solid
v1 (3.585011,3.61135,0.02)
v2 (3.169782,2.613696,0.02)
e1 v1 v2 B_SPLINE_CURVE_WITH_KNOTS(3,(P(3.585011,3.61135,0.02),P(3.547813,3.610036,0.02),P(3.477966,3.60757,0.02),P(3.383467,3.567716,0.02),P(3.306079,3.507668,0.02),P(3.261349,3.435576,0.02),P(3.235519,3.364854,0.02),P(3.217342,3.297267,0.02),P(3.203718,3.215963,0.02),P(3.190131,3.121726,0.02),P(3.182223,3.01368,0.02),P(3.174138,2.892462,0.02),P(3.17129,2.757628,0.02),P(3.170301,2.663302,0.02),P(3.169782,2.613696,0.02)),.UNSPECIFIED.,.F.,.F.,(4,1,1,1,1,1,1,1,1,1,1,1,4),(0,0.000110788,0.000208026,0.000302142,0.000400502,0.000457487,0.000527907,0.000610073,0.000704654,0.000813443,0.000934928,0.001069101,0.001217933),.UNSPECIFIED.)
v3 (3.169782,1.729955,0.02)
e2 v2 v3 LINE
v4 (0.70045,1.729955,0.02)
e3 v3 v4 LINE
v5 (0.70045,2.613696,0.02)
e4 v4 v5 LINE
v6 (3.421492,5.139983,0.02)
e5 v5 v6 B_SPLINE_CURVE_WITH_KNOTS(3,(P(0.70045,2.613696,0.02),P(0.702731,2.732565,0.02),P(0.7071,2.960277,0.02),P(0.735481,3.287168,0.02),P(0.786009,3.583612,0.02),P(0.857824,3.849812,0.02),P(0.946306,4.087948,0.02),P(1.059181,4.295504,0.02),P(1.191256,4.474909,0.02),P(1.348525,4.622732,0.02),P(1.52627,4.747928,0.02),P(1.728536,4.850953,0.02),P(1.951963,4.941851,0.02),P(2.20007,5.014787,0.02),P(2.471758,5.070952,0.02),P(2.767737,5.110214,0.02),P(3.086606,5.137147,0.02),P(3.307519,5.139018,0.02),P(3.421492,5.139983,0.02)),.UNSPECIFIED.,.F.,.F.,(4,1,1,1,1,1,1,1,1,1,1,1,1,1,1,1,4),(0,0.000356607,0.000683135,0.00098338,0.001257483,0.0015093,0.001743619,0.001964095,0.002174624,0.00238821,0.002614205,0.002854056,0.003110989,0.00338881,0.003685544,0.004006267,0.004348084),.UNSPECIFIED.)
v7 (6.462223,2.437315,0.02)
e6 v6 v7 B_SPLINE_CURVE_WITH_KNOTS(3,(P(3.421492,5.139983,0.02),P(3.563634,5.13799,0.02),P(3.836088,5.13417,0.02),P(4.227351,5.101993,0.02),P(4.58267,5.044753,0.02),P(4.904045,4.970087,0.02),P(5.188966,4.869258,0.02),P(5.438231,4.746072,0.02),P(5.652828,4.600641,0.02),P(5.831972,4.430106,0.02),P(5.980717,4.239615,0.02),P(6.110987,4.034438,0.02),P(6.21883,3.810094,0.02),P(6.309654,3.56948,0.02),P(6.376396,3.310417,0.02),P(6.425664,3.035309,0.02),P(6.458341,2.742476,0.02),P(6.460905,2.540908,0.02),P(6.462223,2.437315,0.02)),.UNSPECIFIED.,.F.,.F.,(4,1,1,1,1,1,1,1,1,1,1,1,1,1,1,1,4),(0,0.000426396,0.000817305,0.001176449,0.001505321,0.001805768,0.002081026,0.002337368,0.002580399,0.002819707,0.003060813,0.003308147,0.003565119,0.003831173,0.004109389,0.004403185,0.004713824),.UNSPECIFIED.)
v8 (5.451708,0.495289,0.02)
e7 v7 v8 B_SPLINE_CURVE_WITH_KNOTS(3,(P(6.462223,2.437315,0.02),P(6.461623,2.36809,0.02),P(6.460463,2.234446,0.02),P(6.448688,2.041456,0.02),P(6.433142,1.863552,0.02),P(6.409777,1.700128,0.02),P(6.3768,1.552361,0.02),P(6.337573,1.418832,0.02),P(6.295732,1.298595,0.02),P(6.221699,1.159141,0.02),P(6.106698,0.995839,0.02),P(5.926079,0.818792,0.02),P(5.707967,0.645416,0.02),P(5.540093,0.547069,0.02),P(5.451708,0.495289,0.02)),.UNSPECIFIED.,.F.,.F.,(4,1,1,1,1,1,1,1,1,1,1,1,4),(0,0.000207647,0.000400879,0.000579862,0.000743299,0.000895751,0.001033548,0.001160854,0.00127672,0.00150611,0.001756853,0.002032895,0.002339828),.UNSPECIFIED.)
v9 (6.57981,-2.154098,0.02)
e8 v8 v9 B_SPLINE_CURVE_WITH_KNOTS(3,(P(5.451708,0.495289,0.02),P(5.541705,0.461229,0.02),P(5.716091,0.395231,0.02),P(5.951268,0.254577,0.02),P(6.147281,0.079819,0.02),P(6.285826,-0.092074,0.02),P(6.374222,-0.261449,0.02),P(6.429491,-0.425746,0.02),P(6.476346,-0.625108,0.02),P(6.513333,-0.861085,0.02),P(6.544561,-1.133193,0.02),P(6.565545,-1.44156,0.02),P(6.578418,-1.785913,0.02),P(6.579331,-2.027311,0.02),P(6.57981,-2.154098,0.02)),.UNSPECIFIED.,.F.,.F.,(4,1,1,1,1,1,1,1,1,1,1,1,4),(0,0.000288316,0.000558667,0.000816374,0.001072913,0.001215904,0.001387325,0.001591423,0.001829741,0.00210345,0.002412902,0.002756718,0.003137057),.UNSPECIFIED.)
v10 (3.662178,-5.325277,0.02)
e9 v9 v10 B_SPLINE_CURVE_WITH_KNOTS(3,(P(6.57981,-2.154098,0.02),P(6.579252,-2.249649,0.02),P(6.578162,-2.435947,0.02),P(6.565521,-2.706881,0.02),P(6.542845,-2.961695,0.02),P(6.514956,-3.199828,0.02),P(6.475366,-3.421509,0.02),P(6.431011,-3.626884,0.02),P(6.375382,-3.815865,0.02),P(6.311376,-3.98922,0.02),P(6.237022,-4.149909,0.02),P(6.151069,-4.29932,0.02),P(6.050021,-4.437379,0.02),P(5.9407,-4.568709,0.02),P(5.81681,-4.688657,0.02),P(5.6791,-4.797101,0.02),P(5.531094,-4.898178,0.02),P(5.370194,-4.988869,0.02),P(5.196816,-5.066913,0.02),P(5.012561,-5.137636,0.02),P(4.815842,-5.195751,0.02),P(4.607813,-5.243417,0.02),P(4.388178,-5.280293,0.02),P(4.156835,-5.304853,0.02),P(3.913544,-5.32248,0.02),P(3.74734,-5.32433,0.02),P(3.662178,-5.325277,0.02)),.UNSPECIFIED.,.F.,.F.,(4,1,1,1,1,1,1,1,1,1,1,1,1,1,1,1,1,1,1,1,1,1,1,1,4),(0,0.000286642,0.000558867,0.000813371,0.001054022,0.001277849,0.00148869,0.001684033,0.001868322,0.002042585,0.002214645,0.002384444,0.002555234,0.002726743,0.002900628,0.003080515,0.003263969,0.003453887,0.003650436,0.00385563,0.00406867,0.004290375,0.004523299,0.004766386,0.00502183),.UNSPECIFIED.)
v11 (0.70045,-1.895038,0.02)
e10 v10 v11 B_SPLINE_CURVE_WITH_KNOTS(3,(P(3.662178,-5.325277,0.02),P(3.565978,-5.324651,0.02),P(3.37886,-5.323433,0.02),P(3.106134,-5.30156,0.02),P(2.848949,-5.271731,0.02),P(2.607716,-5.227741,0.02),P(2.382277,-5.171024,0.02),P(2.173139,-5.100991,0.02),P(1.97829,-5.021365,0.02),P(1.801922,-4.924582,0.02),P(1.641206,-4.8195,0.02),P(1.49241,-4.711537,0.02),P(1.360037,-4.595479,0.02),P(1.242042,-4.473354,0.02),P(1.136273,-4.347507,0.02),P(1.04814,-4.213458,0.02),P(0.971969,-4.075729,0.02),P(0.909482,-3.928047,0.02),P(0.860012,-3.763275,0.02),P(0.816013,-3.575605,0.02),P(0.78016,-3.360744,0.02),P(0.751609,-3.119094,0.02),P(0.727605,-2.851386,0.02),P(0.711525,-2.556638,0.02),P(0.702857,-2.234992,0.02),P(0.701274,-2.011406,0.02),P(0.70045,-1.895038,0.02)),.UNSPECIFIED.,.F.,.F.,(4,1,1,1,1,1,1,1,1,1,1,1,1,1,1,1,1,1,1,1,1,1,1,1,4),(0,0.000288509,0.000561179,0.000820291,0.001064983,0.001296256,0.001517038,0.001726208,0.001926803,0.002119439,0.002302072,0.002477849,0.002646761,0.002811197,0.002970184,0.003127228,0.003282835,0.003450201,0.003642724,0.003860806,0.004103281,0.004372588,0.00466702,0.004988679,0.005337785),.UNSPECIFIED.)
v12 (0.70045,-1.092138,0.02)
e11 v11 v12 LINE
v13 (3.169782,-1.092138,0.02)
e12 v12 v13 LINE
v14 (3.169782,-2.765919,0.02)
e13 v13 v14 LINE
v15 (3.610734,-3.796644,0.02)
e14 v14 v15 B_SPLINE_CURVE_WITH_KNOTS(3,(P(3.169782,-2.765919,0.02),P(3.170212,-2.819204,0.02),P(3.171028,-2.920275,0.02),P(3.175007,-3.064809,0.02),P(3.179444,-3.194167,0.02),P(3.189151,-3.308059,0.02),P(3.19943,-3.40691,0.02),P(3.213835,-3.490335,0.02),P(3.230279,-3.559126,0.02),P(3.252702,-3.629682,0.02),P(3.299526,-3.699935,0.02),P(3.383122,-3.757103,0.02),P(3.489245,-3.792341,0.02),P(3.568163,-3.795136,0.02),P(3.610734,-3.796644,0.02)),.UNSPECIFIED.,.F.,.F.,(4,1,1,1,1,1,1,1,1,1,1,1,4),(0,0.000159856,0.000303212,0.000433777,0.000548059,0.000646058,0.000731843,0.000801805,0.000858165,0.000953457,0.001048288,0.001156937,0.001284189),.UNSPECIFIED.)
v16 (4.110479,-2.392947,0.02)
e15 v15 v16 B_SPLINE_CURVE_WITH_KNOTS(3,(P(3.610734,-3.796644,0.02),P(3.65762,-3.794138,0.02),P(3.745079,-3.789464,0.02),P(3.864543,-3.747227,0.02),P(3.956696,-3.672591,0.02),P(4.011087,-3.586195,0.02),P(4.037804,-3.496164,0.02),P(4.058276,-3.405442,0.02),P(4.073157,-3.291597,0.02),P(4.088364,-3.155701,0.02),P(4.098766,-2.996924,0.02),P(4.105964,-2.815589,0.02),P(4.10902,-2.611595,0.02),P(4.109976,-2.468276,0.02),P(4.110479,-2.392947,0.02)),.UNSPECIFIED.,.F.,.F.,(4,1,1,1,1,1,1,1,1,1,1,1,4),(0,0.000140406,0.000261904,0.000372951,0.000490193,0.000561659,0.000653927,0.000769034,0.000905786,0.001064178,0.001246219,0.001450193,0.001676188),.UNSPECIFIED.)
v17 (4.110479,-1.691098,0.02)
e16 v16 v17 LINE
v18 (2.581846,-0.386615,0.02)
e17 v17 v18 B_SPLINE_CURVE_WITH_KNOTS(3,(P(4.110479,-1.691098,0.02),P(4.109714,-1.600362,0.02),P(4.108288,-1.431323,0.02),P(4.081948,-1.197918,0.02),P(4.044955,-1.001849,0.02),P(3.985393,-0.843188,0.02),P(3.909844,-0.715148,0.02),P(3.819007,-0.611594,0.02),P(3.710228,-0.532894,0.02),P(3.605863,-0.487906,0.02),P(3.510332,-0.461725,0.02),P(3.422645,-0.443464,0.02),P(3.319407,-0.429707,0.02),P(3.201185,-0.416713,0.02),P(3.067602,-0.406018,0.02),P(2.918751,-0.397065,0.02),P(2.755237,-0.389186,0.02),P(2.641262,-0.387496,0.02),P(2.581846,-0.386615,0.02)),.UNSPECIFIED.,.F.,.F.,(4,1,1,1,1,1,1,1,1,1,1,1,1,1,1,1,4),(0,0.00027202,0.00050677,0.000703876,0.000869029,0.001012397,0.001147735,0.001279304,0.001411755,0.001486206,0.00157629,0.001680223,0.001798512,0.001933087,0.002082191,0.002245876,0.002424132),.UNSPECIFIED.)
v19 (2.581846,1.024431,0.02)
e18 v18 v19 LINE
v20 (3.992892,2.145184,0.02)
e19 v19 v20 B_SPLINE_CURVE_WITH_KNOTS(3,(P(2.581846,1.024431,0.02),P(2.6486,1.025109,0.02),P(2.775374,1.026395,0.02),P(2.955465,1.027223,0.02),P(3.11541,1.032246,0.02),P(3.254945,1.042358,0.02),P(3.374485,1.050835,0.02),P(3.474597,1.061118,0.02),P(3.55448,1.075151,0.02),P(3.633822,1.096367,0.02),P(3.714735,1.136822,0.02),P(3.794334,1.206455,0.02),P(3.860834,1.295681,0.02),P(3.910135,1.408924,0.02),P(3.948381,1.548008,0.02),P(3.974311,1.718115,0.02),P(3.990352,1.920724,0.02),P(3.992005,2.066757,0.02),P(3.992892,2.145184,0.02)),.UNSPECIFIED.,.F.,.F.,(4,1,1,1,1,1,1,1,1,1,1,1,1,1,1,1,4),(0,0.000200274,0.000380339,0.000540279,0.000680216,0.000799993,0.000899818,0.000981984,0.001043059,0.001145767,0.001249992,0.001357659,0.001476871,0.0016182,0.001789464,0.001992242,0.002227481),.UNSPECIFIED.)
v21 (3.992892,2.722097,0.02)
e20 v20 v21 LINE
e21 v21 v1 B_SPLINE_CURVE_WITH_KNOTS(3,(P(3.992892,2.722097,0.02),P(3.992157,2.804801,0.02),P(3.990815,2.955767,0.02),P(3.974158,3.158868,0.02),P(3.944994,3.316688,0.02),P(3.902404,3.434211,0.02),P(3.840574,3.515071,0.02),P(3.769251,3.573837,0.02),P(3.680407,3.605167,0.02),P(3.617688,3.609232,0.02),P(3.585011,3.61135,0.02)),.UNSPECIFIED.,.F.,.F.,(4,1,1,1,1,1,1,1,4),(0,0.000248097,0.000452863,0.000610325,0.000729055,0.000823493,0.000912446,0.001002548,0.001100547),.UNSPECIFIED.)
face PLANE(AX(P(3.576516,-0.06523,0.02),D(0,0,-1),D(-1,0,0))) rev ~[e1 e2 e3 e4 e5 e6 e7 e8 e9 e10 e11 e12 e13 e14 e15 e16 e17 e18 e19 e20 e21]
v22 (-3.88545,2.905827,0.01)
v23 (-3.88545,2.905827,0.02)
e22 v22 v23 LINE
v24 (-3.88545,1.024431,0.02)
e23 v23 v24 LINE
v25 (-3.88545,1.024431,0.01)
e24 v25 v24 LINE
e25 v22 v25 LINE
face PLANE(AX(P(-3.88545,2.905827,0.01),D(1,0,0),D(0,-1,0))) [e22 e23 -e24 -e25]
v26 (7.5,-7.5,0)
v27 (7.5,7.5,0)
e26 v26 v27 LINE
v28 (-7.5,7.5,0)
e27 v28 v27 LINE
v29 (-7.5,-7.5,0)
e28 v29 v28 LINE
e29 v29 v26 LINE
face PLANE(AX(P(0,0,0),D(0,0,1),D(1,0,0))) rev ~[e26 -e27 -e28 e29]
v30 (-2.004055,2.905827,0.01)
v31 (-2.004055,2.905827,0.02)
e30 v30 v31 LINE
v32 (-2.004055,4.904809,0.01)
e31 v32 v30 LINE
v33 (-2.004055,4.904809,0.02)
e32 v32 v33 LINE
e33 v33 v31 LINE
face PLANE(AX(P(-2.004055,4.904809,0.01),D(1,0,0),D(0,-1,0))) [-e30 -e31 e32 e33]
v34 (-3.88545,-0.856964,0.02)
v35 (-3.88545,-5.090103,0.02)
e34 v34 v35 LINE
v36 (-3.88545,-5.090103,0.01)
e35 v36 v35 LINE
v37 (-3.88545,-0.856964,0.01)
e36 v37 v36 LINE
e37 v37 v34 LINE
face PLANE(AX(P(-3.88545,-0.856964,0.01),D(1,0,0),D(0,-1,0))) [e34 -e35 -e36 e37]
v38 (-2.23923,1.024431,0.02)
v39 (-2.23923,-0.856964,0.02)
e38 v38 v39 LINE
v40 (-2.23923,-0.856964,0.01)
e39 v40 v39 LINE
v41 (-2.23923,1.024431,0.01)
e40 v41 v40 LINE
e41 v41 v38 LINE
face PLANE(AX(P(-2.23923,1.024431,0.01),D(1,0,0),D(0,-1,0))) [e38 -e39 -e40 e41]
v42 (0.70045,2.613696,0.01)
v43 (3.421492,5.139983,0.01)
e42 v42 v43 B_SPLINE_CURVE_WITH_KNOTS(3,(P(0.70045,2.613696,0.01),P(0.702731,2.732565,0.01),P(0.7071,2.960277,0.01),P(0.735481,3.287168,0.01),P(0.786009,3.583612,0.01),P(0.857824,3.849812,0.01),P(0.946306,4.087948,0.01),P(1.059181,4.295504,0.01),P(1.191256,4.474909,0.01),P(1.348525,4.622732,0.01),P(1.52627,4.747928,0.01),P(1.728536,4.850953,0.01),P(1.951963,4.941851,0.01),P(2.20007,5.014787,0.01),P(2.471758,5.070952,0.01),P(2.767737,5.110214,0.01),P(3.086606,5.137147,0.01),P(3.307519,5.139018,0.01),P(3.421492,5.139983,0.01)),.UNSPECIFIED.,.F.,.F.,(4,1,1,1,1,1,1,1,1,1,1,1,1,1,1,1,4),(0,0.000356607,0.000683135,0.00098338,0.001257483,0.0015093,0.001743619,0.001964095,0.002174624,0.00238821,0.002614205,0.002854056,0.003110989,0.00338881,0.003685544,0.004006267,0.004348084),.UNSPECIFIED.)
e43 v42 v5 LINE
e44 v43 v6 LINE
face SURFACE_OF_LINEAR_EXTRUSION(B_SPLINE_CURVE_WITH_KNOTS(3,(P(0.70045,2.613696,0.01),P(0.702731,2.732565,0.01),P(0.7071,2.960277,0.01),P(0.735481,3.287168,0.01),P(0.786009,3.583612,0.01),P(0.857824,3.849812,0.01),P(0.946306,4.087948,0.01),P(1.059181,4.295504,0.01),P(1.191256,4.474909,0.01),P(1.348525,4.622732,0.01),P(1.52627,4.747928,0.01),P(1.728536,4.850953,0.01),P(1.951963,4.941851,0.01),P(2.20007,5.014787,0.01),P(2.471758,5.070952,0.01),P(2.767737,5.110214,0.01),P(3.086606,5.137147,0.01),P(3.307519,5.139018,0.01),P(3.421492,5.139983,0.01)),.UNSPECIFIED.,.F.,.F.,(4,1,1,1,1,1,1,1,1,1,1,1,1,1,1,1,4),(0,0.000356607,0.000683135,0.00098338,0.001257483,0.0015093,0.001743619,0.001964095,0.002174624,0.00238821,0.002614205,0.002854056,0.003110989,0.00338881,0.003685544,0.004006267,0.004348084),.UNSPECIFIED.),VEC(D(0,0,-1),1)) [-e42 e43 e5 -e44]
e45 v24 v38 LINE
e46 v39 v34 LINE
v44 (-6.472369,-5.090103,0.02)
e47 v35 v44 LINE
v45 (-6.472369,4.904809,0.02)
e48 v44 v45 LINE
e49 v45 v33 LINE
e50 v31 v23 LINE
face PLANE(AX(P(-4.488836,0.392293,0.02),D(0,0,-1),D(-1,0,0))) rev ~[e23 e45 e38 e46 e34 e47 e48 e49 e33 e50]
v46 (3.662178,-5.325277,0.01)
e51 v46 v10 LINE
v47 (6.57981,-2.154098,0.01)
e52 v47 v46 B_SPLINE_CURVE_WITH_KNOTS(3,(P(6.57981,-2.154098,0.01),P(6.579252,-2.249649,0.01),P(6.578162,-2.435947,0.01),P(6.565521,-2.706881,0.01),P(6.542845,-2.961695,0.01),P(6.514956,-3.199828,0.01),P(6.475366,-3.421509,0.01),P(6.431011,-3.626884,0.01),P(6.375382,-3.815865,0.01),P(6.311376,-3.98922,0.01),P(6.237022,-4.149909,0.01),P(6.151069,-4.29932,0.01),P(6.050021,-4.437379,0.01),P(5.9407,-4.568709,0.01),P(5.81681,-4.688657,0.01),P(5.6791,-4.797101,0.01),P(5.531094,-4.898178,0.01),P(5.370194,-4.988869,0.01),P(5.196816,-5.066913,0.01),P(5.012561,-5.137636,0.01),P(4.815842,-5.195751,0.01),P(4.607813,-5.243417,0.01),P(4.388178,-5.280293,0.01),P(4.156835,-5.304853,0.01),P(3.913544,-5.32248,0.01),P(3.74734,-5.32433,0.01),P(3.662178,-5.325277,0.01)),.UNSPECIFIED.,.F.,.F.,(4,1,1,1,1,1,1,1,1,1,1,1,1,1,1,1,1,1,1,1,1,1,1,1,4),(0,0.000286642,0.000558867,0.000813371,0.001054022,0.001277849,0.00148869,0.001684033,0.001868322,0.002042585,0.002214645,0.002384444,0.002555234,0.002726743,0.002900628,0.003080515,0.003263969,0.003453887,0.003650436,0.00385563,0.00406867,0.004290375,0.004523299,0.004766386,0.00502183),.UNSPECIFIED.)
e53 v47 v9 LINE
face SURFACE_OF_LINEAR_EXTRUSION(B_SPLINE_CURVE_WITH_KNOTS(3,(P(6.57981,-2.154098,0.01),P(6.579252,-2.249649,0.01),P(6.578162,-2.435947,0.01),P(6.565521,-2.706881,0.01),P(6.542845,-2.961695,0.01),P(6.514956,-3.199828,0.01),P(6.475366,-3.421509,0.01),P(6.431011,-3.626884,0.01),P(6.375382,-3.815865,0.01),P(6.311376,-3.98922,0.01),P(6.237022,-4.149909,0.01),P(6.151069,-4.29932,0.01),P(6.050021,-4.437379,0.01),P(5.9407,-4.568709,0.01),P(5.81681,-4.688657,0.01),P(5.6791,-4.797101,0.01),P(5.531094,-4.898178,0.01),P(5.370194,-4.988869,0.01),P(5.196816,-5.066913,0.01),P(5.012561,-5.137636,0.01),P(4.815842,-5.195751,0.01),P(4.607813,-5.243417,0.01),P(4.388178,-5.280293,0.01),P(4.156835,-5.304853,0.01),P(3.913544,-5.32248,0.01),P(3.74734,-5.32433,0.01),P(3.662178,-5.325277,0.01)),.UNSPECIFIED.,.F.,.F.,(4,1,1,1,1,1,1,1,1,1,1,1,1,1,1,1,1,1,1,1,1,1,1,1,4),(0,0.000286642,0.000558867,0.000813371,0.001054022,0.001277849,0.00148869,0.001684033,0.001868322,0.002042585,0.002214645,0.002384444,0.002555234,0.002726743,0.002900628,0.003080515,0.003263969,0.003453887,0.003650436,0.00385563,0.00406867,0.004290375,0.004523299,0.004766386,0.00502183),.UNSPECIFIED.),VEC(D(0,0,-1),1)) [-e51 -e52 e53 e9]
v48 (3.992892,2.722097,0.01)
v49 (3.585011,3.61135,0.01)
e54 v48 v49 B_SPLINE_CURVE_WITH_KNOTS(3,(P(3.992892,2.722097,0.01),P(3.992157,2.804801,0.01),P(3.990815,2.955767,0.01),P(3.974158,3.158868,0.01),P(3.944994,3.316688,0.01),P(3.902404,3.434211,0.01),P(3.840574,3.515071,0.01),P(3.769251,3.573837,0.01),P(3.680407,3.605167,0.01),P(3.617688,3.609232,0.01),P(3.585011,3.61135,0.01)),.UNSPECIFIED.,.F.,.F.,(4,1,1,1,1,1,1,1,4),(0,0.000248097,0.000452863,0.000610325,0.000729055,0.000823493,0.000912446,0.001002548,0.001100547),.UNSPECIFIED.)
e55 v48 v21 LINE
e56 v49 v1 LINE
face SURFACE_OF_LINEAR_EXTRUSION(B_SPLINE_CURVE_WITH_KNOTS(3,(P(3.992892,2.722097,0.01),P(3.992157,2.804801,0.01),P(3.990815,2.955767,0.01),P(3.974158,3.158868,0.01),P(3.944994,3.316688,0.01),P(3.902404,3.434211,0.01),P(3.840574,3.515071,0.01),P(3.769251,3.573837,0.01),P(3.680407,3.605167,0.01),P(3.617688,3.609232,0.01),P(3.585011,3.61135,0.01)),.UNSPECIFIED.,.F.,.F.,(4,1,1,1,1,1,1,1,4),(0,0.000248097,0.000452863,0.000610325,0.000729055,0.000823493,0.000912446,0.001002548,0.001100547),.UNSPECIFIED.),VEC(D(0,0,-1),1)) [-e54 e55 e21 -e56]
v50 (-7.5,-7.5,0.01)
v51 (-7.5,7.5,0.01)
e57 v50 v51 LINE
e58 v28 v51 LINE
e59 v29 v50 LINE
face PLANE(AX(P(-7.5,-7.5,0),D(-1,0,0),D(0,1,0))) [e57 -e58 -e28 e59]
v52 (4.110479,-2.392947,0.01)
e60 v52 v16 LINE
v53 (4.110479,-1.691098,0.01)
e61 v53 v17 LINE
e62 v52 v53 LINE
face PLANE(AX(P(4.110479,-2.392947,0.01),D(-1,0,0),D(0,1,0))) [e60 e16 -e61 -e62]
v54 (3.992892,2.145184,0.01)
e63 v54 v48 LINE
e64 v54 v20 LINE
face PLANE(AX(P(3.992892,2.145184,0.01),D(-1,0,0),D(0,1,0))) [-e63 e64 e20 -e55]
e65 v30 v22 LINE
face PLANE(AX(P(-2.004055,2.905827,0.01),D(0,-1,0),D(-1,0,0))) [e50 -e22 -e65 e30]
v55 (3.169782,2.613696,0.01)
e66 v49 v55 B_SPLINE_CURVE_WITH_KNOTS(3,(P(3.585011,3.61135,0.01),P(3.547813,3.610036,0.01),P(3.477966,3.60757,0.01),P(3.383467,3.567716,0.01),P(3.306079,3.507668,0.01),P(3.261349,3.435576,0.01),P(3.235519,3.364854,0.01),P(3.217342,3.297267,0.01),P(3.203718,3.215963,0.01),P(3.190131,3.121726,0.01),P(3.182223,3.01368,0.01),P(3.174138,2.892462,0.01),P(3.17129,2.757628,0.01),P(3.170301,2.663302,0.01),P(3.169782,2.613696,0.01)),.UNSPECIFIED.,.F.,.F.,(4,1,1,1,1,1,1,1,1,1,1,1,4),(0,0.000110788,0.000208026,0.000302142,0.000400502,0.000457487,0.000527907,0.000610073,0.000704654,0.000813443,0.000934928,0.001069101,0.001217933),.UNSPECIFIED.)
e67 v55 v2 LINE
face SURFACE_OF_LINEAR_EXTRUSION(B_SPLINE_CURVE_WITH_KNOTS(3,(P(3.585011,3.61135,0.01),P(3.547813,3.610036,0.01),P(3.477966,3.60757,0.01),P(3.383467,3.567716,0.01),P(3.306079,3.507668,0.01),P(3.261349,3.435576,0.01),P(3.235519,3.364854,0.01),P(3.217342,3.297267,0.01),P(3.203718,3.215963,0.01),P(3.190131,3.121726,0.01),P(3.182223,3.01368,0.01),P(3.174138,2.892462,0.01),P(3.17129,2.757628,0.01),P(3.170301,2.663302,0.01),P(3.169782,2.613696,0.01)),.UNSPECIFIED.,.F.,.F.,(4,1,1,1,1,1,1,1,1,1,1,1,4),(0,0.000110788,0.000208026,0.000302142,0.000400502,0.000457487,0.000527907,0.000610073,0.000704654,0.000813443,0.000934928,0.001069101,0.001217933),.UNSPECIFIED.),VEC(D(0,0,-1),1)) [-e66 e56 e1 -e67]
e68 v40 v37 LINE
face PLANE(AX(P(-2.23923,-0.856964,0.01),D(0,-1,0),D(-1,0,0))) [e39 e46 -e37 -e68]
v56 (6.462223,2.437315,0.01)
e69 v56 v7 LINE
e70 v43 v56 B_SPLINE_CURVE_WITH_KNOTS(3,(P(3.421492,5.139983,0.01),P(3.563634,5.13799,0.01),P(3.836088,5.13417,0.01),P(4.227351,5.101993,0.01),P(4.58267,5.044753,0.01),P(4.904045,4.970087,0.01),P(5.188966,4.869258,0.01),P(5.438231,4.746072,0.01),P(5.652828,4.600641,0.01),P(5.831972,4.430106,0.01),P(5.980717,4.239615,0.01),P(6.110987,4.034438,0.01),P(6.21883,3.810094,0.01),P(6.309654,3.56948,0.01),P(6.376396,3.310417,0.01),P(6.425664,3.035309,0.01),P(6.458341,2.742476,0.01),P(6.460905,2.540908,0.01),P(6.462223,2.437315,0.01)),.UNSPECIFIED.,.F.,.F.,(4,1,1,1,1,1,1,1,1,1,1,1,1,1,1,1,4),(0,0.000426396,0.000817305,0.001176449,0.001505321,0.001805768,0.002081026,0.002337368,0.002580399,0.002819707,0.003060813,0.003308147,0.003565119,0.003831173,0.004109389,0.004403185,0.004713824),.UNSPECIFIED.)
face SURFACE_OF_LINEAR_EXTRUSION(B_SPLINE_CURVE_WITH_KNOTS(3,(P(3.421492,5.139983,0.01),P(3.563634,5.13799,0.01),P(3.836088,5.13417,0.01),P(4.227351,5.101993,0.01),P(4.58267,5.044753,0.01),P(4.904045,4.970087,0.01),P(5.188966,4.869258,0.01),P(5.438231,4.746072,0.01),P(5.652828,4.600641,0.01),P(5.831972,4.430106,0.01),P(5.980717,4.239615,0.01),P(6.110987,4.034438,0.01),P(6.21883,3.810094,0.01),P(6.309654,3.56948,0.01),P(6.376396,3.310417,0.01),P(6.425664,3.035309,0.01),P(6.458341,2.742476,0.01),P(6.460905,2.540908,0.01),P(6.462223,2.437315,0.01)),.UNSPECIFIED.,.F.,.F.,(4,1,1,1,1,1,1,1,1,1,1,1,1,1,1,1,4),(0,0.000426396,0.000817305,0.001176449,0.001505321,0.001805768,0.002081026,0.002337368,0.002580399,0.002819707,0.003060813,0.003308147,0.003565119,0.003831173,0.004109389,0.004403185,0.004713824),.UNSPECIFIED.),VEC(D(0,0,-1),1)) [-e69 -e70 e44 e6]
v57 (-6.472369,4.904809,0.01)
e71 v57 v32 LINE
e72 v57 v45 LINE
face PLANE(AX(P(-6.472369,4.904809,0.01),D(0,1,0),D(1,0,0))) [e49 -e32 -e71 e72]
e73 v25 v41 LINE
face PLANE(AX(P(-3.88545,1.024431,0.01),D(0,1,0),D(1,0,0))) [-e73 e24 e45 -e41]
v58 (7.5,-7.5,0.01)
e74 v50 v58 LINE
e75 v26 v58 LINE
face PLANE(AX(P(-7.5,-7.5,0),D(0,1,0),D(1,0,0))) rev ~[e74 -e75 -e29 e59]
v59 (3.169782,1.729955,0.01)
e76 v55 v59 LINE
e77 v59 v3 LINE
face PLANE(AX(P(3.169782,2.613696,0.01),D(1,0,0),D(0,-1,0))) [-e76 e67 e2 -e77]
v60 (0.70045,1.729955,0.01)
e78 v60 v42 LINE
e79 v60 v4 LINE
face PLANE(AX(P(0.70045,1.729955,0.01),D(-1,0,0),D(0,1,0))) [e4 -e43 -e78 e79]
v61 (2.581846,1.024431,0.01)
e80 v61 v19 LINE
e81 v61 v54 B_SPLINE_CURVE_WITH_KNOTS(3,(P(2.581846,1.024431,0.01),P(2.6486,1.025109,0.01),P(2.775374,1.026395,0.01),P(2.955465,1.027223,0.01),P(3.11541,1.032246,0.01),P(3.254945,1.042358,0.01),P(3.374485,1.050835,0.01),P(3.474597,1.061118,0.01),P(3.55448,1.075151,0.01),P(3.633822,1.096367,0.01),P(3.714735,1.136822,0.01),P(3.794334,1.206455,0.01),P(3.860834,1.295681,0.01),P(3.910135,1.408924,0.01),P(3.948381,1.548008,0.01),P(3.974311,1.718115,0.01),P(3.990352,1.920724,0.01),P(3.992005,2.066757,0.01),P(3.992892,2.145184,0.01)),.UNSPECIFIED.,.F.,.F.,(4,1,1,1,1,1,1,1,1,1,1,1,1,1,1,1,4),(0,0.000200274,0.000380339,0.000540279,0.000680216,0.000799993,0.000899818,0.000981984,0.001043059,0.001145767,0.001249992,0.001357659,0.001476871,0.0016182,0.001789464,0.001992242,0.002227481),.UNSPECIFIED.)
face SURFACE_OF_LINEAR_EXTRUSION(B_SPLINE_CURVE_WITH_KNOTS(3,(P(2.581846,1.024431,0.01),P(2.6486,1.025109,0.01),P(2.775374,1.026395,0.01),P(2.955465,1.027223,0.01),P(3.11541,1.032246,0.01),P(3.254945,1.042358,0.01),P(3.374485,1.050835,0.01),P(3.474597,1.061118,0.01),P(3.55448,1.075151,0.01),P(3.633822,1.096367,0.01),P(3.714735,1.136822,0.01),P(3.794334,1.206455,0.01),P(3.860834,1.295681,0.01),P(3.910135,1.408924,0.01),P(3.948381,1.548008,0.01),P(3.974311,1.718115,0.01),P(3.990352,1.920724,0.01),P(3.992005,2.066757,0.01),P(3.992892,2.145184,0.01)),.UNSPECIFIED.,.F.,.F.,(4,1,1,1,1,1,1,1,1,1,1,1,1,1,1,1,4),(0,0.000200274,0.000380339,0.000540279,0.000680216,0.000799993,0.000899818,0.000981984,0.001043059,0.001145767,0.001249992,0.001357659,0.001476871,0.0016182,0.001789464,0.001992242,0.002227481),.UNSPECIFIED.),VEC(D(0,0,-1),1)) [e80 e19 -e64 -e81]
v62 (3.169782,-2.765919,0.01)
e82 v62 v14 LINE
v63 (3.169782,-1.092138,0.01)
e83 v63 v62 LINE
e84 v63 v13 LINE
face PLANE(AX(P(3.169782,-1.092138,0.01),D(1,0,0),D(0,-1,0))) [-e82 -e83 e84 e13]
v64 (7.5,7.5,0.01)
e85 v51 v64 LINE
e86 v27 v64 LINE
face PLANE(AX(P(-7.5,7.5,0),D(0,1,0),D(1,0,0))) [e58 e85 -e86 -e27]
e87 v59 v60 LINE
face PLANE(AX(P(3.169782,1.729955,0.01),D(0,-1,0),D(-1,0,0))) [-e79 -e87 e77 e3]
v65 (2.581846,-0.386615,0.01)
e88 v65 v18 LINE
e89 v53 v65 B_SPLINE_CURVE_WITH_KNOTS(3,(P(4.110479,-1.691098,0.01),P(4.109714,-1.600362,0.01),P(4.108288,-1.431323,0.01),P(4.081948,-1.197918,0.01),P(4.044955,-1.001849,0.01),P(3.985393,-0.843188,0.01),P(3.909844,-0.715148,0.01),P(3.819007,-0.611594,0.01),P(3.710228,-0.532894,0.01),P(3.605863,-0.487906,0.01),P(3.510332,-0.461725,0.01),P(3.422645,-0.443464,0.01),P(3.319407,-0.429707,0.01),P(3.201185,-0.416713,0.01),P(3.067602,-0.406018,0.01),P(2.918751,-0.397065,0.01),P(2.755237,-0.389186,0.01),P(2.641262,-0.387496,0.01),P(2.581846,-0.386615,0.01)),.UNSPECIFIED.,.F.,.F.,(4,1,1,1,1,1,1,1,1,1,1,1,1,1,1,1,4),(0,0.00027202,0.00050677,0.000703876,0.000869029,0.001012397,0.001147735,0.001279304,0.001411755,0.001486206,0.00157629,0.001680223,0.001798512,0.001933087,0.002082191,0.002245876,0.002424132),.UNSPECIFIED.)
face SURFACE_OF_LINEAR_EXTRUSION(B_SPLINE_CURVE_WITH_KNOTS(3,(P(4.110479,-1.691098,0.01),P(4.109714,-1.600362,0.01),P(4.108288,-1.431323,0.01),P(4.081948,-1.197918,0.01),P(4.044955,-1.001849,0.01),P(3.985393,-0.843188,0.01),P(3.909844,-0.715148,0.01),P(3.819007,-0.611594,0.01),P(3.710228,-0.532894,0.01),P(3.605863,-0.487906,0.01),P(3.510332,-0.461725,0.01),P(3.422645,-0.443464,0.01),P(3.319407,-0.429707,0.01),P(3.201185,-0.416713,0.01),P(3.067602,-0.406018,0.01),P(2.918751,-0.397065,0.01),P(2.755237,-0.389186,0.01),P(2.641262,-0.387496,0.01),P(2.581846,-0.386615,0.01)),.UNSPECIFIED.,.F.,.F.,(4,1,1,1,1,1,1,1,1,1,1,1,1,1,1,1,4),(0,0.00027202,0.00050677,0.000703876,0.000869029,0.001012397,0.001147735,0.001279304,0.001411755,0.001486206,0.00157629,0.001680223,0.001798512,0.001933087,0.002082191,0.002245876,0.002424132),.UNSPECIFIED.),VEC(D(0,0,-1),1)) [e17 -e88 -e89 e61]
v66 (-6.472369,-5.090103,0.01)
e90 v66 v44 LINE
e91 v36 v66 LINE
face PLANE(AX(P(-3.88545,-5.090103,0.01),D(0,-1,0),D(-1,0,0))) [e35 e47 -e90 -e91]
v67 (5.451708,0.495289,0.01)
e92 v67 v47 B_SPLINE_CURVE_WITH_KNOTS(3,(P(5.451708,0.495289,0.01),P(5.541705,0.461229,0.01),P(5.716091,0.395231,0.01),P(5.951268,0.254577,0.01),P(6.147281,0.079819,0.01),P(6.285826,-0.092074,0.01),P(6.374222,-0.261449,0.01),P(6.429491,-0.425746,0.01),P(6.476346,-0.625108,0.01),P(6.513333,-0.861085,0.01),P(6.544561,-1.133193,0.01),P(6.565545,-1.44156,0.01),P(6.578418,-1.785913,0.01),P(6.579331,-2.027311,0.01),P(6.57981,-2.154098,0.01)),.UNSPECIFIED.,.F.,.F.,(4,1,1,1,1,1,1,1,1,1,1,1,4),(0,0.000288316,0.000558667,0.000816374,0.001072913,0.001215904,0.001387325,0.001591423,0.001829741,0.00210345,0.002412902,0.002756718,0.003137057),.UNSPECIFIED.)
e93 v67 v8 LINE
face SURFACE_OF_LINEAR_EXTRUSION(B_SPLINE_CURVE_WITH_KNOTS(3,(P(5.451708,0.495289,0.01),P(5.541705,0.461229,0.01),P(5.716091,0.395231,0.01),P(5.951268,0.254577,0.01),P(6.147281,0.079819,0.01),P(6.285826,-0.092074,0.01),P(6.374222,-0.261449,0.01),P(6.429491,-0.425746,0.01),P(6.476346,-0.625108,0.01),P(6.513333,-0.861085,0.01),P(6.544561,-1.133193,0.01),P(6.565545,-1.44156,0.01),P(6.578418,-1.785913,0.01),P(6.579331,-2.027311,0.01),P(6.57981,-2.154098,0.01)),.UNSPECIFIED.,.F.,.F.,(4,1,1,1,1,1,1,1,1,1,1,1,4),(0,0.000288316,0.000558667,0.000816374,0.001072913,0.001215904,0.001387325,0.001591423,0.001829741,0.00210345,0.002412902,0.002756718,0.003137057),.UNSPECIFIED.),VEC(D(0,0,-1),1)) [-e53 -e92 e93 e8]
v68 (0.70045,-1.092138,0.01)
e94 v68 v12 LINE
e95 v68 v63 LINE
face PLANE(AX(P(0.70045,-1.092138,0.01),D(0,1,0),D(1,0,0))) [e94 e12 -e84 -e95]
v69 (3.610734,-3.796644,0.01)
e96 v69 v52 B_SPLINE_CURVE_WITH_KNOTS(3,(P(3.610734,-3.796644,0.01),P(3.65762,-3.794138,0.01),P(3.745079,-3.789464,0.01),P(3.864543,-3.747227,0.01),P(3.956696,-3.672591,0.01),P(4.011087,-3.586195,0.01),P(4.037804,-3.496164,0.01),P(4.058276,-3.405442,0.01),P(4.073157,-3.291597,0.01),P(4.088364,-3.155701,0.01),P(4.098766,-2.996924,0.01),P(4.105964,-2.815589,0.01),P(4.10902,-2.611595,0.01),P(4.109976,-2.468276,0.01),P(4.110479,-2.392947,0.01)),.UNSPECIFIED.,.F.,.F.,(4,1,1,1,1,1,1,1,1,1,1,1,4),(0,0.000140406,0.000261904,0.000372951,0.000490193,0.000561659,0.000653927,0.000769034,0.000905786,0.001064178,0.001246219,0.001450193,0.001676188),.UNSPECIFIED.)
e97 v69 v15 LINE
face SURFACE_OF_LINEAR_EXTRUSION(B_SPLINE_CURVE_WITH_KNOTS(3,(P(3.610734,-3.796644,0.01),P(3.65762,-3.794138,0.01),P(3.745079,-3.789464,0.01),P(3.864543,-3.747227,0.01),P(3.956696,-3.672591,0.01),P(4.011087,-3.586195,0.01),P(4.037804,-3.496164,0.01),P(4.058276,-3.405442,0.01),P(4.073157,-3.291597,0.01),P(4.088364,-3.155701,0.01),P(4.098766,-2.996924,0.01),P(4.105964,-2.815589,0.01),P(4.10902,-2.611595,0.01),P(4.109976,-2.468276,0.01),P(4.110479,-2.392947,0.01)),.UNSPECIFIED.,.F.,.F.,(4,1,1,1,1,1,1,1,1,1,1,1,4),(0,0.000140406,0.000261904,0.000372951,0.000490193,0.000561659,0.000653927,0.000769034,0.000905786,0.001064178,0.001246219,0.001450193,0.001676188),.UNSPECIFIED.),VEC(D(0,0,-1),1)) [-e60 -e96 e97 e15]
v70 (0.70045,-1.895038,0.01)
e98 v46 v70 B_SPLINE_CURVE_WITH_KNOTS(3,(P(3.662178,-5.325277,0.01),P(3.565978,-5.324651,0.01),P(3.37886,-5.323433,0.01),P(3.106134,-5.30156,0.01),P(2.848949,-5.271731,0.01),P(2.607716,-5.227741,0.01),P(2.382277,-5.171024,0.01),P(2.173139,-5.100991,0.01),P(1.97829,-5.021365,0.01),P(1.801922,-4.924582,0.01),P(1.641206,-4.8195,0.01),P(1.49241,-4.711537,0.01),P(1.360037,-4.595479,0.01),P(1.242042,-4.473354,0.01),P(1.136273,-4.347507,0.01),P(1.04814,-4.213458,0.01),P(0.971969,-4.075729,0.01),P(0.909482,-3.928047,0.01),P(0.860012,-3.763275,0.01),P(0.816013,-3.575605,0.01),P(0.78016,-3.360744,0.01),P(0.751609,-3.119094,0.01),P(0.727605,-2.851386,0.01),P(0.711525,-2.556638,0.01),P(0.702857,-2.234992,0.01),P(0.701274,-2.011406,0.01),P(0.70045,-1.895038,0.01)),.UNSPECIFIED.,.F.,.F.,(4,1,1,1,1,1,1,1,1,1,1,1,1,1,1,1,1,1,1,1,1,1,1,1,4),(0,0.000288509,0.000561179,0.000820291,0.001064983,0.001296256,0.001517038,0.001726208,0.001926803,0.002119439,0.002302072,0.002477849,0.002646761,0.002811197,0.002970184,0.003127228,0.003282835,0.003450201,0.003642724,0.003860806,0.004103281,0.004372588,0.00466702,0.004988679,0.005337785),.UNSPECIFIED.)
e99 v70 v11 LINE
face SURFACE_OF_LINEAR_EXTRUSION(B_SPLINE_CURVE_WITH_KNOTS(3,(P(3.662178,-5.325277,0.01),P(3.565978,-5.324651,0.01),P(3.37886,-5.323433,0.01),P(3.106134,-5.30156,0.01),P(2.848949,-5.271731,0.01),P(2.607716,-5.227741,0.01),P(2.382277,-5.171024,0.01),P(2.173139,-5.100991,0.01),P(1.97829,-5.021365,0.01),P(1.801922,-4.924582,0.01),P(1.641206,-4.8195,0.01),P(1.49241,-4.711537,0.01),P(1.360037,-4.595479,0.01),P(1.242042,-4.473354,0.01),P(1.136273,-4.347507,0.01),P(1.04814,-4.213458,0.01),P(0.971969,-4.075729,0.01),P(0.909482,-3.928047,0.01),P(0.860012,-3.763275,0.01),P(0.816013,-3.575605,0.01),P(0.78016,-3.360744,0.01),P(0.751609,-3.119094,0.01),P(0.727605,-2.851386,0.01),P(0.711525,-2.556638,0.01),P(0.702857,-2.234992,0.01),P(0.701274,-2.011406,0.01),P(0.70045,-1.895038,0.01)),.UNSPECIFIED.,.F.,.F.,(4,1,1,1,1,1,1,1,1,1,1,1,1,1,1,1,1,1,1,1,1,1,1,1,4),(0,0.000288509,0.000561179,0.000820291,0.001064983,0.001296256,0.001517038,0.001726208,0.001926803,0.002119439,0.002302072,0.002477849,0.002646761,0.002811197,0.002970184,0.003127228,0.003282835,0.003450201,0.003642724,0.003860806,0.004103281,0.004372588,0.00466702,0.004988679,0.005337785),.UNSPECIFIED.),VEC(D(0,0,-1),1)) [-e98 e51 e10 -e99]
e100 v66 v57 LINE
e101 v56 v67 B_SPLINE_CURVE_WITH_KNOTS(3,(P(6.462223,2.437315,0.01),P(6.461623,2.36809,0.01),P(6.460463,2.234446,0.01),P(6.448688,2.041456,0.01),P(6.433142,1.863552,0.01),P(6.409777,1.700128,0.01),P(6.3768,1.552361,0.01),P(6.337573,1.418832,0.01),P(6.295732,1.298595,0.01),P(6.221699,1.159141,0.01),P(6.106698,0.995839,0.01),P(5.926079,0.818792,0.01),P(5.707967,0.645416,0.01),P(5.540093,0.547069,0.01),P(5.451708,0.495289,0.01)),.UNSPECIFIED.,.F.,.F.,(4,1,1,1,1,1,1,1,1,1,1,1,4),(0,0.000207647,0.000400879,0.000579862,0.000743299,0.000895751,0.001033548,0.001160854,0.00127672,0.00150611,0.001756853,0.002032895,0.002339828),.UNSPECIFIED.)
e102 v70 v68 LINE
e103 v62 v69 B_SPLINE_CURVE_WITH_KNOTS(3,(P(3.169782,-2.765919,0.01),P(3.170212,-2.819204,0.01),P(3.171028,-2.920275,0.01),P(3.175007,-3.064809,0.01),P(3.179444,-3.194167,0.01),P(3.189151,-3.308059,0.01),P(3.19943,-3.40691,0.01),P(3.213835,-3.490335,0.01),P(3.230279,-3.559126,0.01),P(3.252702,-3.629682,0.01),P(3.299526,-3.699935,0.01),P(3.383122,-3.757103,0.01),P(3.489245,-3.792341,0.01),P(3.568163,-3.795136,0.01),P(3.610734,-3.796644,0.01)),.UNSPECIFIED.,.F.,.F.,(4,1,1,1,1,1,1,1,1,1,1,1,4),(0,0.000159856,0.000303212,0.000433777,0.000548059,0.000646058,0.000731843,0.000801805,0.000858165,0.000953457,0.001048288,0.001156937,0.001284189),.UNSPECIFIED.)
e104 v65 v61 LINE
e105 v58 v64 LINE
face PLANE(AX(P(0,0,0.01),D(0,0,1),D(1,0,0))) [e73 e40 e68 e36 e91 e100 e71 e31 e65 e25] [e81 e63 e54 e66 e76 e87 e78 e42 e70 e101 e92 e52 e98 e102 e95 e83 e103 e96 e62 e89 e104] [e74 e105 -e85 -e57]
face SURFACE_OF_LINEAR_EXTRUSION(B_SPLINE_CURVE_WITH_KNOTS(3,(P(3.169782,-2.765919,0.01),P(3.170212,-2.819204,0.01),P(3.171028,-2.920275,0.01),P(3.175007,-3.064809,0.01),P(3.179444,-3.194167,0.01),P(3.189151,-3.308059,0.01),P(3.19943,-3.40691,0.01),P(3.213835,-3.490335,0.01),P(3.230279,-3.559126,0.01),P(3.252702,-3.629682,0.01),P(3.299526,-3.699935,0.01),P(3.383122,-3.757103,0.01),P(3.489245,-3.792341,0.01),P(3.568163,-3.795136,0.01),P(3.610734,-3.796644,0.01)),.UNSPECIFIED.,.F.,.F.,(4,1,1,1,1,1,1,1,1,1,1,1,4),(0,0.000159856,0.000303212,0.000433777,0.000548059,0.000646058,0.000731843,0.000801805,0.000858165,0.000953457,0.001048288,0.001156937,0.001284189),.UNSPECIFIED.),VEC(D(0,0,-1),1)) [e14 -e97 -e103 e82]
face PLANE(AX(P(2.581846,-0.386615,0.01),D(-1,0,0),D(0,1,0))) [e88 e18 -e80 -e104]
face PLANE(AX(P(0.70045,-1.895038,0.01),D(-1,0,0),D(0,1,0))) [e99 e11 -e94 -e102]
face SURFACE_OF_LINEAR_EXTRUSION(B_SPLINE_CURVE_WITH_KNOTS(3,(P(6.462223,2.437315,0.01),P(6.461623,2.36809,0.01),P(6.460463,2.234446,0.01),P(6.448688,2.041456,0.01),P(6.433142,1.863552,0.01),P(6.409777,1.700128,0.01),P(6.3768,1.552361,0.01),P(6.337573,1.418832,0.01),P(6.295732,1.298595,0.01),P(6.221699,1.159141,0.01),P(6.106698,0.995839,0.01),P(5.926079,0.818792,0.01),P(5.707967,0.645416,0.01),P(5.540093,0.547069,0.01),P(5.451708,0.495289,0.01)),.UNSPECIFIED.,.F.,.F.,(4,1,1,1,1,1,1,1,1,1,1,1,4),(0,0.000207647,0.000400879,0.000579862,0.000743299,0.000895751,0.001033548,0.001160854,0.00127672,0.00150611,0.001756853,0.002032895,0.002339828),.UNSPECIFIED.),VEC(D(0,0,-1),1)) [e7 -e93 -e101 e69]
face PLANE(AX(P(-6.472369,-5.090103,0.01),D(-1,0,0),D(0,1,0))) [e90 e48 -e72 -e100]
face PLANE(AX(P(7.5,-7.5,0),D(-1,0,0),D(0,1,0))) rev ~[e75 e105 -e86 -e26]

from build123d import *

# Parameters (mm, degrees)
SKETCH1_W           = 15
SKETCH1_H           = 15
BASE_EXTRUDE_DEPTH  = 0.01
BOSS_EXTRUDE1_DEPTH = 0.01


with BuildPart() as part:
    # Sketch1 → Base-Extrude (new body)
    with BuildSketch(Plane.XY):
        Rectangle(SKETCH1_W, SKETCH1_H)
    extrude(amount=BASE_EXTRUDE_DEPTH)

    # Sketch3 → Boss-Extrude1 (add)
    with BuildSketch(Plane.XY.offset(0.01)):
        Polygon((-6.472368832, 4.904808961), (-2.004055241, 4.904808961), (-2.004055241, 2.905826565), (-3.885450437, 2.905826565), (-3.885450437, 1.024431369), (-2.239229641, 1.024431369), (-2.239229641, -0.856963827), (-3.885450437, -0.856963827), (-3.885450437, -5.090103018), (-6.472368832, -5.090103018), align=None)
        with BuildLine():
            add(Edge.make_bspline(
                [(5.451708144, 0.49528897), (5.541704888, 0.46122907), (5.71609099, 0.395231423), (5.951267823, 0.254576822), (6.147281493, 0.079818861), (6.285825692, -0.092074441), (6.374221532, -0.261448951), (6.429491004, -0.425746475), (6.47634556, -0.625108119), (6.513333341, -0.861085485), (6.54456131, -1.13319291), (6.565545199, -1.441559516), (6.578417743, -1.785912523), (6.579330792, -2.027310906), (6.579810341, -2.154097624)],
                knots=[0, 0, 0, 0, 0.000288316, 0.000558667, 0.000816374, 0.001072913, 0.001215904, 0.001387325, 0.001591423, 0.001829741, 0.00210345, 0.002412902, 0.002756718, 0.003137057, 0.003137057, 0.003137057, 0.003137057], degree=3))
            add(Edge.make_bspline(
                [(6.579810341, -2.154097624), (6.579251611, -2.249649366), (6.578162254, -2.43594664), (6.565520748, -2.706880939), (6.542845162, -2.961695301), (6.514955923, -3.199828398), (6.475365682, -3.421508825), (6.4310113, -3.62688384), (6.375382308, -3.815865386), (6.311376041, -3.989219646), (6.237022264, -4.149908829), (6.151069105, -4.299319941), (6.050020595, -4.437378887), (5.940700172, -4.568709379), (5.816810406, -4.688656507), (5.679099503, -4.797101345), (5.531093612, -4.8981779), (5.370194177, -4.988868629), (5.196816475, -5.066913302), (5.012561471, -5.137635874), (4.815842154, -5.195751498), (4.60781307, -5.243417124), (4.388177835, -5.280292834), (4.156835455, -5.304852901), (3.913544341, -5.322479956), (3.747340028, -5.324329647), (3.662177947, -5.325277418)],
                knots=[0, 0, 0, 0, 0.000286642, 0.000558867, 0.000813371, 0.001054022, 0.001277849, 0.00148869, 0.001684033, 0.001868322, 0.002042585, 0.002214645, 0.002384444, 0.002555234, 0.002726743, 0.002900628, 0.003080515, 0.003263969, 0.003453887, 0.003650436, 0.00385563, 0.00406867, 0.004290375, 0.004523299, 0.004766386, 0.00502183, 0.00502183, 0.00502183, 0.00502183], degree=3))
            add(Edge.make_bspline(
                [(3.662177947, -5.325277418), (3.565978307, -5.324651197), (3.37886012, -5.323433134), (3.106134323, -5.30155964), (2.848949154, -5.271730523), (2.607716343, -5.227741017), (2.382277001, -5.171023718), (2.17313853, -5.100991344), (1.978289759, -5.021364866), (1.801922322, -4.924582203), (1.641206044, -4.819500382), (1.492410404, -4.711536803), (1.360037195, -4.595479188), (1.242042252, -4.47335357), (1.136273155, -4.347507072), (1.048139978, -4.21345763), (0.971968934, -4.075729036), (0.909481566, -3.928047215), (0.860011794, -3.763274966), (0.816012679, -3.57560507), (0.780160436, -3.360743847), (0.751608695, -3.119093652), (0.727605231, -2.851386475), (0.711525112, -2.556637663), (0.702857292, -2.23499193), (0.701274259, -2.011405899), (0.700450353, -1.895038325)],
                knots=[0, 0, 0, 0, 0.000288509, 0.000561179, 0.000820291, 0.001064983, 0.001296256, 0.001517038, 0.001726208, 0.001926803, 0.002119439, 0.002302072, 0.002477849, 0.002646761, 0.002811197, 0.002970184, 0.003127228, 0.003282835, 0.003450201, 0.003642724, 0.003860806, 0.004103281, 0.004372588, 0.00466702, 0.004988679, 0.005337785, 0.005337785, 0.005337785, 0.005337785], degree=3))
            Line((0.700450353, -1.895038325), (0.700450353, -1.092138227))
            Line((0.700450353, -1.092138227), (3.169781548, -1.092138227))
            Line((3.169781548, -1.092138227), (3.169781548, -2.765918523))
            add(Edge.make_bspline(
                [(3.169781548, -2.765918523), (3.17021198, -2.8192041), (3.171028418, -2.920275499), (3.175006718, -3.064808886), (3.179443639, -3.194167412), (3.189151196, -3.308058537), (3.199429809, -3.406909766), (3.213835296, -3.49033521), (3.230278504, -3.559125937), (3.252702283, -3.629681509), (3.299526285, -3.699935045), (3.383122461, -3.757103347), (3.489245053, -3.792340524), (3.568162966, -3.79513591), (3.610733547, -3.796643821)],
                knots=[0, 0, 0, 0, 0.000159856, 0.000303212, 0.000433777, 0.000548059, 0.000646058, 0.000731843, 0.000801805, 0.000858165, 0.000953457, 0.001048288, 0.001156937, 0.001284189, 0.001284189, 0.001284189, 0.001284189], degree=3))
            add(Edge.make_bspline(
                [(3.610733547, -3.796643821), (3.657620063, -3.794138108), (3.745079031, -3.789464118), (3.864542915, -3.747227033), (3.956695696, -3.672591069), (4.011087258, -3.586195046), (4.037803626, -3.496164203), (4.058275718, -3.405442093), (4.073156686, -3.291597084), (4.088363969, -3.155701403), (4.098765536, -2.996924463), (4.105963633, -2.815589336), (4.109019718, -2.611594501), (4.109976338, -2.468276058), (4.110479146, -2.392946624)],
                knots=[0, 0, 0, 0, 0.000140406, 0.000261904, 0.000372951, 0.000490193, 0.000561659, 0.000653927, 0.000769034, 0.000905786, 0.001064178, 0.001246219, 0.001450193, 0.001676188, 0.001676188, 0.001676188, 0.001676188], degree=3))
            Line((4.110479146, -2.392946624), (4.110479146, -1.691098025))
            add(Edge.make_bspline(
                [(4.110479146, -1.691098025), (4.109713746, -1.600362341), (4.108287812, -1.431322569), (4.08194848, -1.197917545), (4.044954905, -1.001849323), (3.985393347, -0.843187957), (3.909844021, -0.715148139), (3.819006664, -0.611594312), (3.710227787, -0.532893563), (3.6058627, -0.487905925), (3.510331925, -0.461725122), (3.422645179, -0.443464033), (3.319407062, -0.429706846), (3.201185368, -0.416713215), (3.067602219, -0.406017567), (2.918750523, -0.397065261), (2.755237446, -0.389185698), (2.641261806, -0.38749592), (2.581845549, -0.386615028)],
                knots=[0, 0, 0, 0, 0.00027202, 0.00050677, 0.000703876, 0.000869029, 0.001012397, 0.001147735, 0.001279304, 0.001411755, 0.001486206, 0.00157629, 0.001680223, 0.001798512, 0.001933087, 0.002082191, 0.002245876, 0.002424132, 0.002424132, 0.002424132, 0.002424132], degree=3))
            Line((2.581845549, -0.386615028), (2.581845549, 1.024431369))
            add(Edge.make_bspline(
                [(2.581845549, 1.024431369), (2.648600291, 1.025108849), (2.775373656, 1.026395444), (2.955465308, 1.02722335), (3.115410238, 1.032245699), (3.25494493, 1.042357761), (3.374484854, 1.05083456), (3.474597157, 1.061117544), (3.554479878, 1.075150689), (3.633822017, 1.096367081), (3.714735309, 1.136821769), (3.794334463, 1.206455107), (3.86083388, 1.295680521), (3.910135048, 1.408923566), (3.948380873, 1.548008373), (3.974310757, 1.718115255), (3.99035213, 1.920723759), (3.992004522, 2.066756753), (3.992891946, 2.145184367)],
                knots=[0, 0, 0, 0, 0.000200274, 0.000380339, 0.000540279, 0.000680216, 0.000799993, 0.000899818, 0.000981984, 0.001043059, 0.001145767, 0.001249992, 0.001357659, 0.001476871, 0.0016182, 0.001789464, 0.001992242, 0.002227481, 0.002227481, 0.002227481, 0.002227481], degree=3))
            Line((3.992891946, 2.145184367), (3.992891946, 2.722096566))
            add(Edge.make_bspline(
                [(3.992891946, 2.722096566), (3.992156958, 2.80480146), (3.990815348, 2.955766705), (3.974157766, 3.158867539), (3.944994071, 3.316687903), (3.902403692, 3.434210749), (3.840573884, 3.515071041), (3.769250527, 3.573837218), (3.680406937, 3.605166698), (3.617687502, 3.609231859), (3.585011347, 3.611349764)],
                knots=[0, 0, 0, 0, 0.000248097, 0.000452863, 0.000610325, 0.000729055, 0.000823493, 0.000912446, 0.001002548, 0.001100547, 0.001100547, 0.001100547, 0.001100547], degree=3))
            add(Edge.make_bspline(
                [(3.585011347, 3.611349764), (3.547813053, 3.610036204), (3.477965928, 3.607569737), (3.383466793, 3.567715617), (3.306078747, 3.507667601), (3.261348874, 3.435575677), (3.235519365, 3.364853788), (3.21734241, 3.297266999), (3.203718057, 3.215962863), (3.190130712, 3.121726109), (3.182222609, 3.013679986), (3.174137767, 2.892462124), (3.171289987, 2.757627757), (3.17030143, 2.663301825), (3.169781548, 2.613695866)],
                knots=[0, 0, 0, 0, 0.000110788, 0.000208026, 0.000302142, 0.000400502, 0.000457487, 0.000527907, 0.000610073, 0.000704654, 0.000813443, 0.000934928, 0.001069101, 0.001217933, 0.001217933, 0.001217933, 0.001217933], degree=3))
            Line((3.169781548, 2.613695866), (3.169781548, 1.729954568))
            Line((3.169781548, 1.729954568), (0.700450353, 1.729954568))
            Line((0.700450353, 1.729954568), (0.700450353, 2.613695866))
            add(Edge.make_bspline(
                [(0.700450353, 2.613695866), (0.702730934, 2.732564889), (0.707099736, 2.960276734), (0.735480875, 3.287167866), (0.786008768, 3.583612256), (0.857824167, 3.849811851), (0.946305898, 4.087948018), (1.059181309, 4.295504083), (1.191255618, 4.474908935), (1.348525371, 4.622731781), (1.526270005, 4.747928152), (1.728535846, 4.85095263), (1.951963354, 4.9418512), (2.20006964, 5.014787074), (2.47175811, 5.07095155), (2.767736781, 5.110214139), (3.086606239, 5.13714693), (3.30751876, 5.139018027), (3.421491648, 5.139983361)],
                knots=[0, 0, 0, 0, 0.000356607, 0.000683135, 0.00098338, 0.001257483, 0.0015093, 0.001743619, 0.001964095, 0.002174624, 0.00238821, 0.002614205, 0.002854056, 0.003110989, 0.00338881, 0.003685544, 0.004006267, 0.004348084, 0.004348084, 0.004348084, 0.004348084], degree=3))
            add(Edge.make_bspline(
                [(3.421491648, 5.139983361), (3.563633857, 5.137990237), (3.836088406, 5.134169869), (4.227351116, 5.10199337), (4.582669765, 5.044753192), (4.904044762, 4.970086889), (5.188966131, 4.869258179), (5.438231113, 4.746072414), (5.652827918, 4.600640957), (5.831971731, 4.430106467), (5.980716849, 4.239615452), (6.110987367, 4.034438308), (6.218830297, 3.810094157), (6.309654456, 3.569479907), (6.376396325, 3.310417121), (6.425663584, 3.035308665), (6.45834142, 2.742475657), (6.460905417, 2.540907636), (6.462223141, 2.437315066)],
                knots=[0, 0, 0, 0, 0.000426396, 0.000817305, 0.001176449, 0.001505321, 0.001805768, 0.002081026, 0.002337368, 0.002580399, 0.002819707, 0.003060813, 0.003308147, 0.003565119, 0.003831173, 0.004109389, 0.004403185, 0.004713824, 0.004713824, 0.004713824, 0.004713824], degree=3))
            add(Edge.make_bspline(
                [(6.462223141, 2.437315066), (6.461622613, 2.368090193), (6.46046325, 2.234446478), (6.448688471, 2.04145572), (6.43314227, 1.863552201), (6.409776505, 1.700127517), (6.376800405, 1.552361275), (6.337572556, 1.418832167), (6.295732098, 1.298595255), (6.22169852, 1.159141118), (6.106697718, 0.995839339), (5.92607923, 0.81879231), (5.707966569, 0.645416236), (5.540092831, 0.547068542), (5.451708144, 0.49528897)],
                knots=[0, 0, 0, 0, 0.000207647, 0.000400879, 0.000579862, 0.000743299, 0.000895751, 0.001033548, 0.001160854, 0.00127672, 0.00150611, 0.001756853, 0.002032895, 0.002339828, 0.002339828, 0.002339828, 0.002339828], degree=3))
        make_face()
    extrude(amount=BOSS_EXTRUDE1_DEPTH)


solid = part.part
